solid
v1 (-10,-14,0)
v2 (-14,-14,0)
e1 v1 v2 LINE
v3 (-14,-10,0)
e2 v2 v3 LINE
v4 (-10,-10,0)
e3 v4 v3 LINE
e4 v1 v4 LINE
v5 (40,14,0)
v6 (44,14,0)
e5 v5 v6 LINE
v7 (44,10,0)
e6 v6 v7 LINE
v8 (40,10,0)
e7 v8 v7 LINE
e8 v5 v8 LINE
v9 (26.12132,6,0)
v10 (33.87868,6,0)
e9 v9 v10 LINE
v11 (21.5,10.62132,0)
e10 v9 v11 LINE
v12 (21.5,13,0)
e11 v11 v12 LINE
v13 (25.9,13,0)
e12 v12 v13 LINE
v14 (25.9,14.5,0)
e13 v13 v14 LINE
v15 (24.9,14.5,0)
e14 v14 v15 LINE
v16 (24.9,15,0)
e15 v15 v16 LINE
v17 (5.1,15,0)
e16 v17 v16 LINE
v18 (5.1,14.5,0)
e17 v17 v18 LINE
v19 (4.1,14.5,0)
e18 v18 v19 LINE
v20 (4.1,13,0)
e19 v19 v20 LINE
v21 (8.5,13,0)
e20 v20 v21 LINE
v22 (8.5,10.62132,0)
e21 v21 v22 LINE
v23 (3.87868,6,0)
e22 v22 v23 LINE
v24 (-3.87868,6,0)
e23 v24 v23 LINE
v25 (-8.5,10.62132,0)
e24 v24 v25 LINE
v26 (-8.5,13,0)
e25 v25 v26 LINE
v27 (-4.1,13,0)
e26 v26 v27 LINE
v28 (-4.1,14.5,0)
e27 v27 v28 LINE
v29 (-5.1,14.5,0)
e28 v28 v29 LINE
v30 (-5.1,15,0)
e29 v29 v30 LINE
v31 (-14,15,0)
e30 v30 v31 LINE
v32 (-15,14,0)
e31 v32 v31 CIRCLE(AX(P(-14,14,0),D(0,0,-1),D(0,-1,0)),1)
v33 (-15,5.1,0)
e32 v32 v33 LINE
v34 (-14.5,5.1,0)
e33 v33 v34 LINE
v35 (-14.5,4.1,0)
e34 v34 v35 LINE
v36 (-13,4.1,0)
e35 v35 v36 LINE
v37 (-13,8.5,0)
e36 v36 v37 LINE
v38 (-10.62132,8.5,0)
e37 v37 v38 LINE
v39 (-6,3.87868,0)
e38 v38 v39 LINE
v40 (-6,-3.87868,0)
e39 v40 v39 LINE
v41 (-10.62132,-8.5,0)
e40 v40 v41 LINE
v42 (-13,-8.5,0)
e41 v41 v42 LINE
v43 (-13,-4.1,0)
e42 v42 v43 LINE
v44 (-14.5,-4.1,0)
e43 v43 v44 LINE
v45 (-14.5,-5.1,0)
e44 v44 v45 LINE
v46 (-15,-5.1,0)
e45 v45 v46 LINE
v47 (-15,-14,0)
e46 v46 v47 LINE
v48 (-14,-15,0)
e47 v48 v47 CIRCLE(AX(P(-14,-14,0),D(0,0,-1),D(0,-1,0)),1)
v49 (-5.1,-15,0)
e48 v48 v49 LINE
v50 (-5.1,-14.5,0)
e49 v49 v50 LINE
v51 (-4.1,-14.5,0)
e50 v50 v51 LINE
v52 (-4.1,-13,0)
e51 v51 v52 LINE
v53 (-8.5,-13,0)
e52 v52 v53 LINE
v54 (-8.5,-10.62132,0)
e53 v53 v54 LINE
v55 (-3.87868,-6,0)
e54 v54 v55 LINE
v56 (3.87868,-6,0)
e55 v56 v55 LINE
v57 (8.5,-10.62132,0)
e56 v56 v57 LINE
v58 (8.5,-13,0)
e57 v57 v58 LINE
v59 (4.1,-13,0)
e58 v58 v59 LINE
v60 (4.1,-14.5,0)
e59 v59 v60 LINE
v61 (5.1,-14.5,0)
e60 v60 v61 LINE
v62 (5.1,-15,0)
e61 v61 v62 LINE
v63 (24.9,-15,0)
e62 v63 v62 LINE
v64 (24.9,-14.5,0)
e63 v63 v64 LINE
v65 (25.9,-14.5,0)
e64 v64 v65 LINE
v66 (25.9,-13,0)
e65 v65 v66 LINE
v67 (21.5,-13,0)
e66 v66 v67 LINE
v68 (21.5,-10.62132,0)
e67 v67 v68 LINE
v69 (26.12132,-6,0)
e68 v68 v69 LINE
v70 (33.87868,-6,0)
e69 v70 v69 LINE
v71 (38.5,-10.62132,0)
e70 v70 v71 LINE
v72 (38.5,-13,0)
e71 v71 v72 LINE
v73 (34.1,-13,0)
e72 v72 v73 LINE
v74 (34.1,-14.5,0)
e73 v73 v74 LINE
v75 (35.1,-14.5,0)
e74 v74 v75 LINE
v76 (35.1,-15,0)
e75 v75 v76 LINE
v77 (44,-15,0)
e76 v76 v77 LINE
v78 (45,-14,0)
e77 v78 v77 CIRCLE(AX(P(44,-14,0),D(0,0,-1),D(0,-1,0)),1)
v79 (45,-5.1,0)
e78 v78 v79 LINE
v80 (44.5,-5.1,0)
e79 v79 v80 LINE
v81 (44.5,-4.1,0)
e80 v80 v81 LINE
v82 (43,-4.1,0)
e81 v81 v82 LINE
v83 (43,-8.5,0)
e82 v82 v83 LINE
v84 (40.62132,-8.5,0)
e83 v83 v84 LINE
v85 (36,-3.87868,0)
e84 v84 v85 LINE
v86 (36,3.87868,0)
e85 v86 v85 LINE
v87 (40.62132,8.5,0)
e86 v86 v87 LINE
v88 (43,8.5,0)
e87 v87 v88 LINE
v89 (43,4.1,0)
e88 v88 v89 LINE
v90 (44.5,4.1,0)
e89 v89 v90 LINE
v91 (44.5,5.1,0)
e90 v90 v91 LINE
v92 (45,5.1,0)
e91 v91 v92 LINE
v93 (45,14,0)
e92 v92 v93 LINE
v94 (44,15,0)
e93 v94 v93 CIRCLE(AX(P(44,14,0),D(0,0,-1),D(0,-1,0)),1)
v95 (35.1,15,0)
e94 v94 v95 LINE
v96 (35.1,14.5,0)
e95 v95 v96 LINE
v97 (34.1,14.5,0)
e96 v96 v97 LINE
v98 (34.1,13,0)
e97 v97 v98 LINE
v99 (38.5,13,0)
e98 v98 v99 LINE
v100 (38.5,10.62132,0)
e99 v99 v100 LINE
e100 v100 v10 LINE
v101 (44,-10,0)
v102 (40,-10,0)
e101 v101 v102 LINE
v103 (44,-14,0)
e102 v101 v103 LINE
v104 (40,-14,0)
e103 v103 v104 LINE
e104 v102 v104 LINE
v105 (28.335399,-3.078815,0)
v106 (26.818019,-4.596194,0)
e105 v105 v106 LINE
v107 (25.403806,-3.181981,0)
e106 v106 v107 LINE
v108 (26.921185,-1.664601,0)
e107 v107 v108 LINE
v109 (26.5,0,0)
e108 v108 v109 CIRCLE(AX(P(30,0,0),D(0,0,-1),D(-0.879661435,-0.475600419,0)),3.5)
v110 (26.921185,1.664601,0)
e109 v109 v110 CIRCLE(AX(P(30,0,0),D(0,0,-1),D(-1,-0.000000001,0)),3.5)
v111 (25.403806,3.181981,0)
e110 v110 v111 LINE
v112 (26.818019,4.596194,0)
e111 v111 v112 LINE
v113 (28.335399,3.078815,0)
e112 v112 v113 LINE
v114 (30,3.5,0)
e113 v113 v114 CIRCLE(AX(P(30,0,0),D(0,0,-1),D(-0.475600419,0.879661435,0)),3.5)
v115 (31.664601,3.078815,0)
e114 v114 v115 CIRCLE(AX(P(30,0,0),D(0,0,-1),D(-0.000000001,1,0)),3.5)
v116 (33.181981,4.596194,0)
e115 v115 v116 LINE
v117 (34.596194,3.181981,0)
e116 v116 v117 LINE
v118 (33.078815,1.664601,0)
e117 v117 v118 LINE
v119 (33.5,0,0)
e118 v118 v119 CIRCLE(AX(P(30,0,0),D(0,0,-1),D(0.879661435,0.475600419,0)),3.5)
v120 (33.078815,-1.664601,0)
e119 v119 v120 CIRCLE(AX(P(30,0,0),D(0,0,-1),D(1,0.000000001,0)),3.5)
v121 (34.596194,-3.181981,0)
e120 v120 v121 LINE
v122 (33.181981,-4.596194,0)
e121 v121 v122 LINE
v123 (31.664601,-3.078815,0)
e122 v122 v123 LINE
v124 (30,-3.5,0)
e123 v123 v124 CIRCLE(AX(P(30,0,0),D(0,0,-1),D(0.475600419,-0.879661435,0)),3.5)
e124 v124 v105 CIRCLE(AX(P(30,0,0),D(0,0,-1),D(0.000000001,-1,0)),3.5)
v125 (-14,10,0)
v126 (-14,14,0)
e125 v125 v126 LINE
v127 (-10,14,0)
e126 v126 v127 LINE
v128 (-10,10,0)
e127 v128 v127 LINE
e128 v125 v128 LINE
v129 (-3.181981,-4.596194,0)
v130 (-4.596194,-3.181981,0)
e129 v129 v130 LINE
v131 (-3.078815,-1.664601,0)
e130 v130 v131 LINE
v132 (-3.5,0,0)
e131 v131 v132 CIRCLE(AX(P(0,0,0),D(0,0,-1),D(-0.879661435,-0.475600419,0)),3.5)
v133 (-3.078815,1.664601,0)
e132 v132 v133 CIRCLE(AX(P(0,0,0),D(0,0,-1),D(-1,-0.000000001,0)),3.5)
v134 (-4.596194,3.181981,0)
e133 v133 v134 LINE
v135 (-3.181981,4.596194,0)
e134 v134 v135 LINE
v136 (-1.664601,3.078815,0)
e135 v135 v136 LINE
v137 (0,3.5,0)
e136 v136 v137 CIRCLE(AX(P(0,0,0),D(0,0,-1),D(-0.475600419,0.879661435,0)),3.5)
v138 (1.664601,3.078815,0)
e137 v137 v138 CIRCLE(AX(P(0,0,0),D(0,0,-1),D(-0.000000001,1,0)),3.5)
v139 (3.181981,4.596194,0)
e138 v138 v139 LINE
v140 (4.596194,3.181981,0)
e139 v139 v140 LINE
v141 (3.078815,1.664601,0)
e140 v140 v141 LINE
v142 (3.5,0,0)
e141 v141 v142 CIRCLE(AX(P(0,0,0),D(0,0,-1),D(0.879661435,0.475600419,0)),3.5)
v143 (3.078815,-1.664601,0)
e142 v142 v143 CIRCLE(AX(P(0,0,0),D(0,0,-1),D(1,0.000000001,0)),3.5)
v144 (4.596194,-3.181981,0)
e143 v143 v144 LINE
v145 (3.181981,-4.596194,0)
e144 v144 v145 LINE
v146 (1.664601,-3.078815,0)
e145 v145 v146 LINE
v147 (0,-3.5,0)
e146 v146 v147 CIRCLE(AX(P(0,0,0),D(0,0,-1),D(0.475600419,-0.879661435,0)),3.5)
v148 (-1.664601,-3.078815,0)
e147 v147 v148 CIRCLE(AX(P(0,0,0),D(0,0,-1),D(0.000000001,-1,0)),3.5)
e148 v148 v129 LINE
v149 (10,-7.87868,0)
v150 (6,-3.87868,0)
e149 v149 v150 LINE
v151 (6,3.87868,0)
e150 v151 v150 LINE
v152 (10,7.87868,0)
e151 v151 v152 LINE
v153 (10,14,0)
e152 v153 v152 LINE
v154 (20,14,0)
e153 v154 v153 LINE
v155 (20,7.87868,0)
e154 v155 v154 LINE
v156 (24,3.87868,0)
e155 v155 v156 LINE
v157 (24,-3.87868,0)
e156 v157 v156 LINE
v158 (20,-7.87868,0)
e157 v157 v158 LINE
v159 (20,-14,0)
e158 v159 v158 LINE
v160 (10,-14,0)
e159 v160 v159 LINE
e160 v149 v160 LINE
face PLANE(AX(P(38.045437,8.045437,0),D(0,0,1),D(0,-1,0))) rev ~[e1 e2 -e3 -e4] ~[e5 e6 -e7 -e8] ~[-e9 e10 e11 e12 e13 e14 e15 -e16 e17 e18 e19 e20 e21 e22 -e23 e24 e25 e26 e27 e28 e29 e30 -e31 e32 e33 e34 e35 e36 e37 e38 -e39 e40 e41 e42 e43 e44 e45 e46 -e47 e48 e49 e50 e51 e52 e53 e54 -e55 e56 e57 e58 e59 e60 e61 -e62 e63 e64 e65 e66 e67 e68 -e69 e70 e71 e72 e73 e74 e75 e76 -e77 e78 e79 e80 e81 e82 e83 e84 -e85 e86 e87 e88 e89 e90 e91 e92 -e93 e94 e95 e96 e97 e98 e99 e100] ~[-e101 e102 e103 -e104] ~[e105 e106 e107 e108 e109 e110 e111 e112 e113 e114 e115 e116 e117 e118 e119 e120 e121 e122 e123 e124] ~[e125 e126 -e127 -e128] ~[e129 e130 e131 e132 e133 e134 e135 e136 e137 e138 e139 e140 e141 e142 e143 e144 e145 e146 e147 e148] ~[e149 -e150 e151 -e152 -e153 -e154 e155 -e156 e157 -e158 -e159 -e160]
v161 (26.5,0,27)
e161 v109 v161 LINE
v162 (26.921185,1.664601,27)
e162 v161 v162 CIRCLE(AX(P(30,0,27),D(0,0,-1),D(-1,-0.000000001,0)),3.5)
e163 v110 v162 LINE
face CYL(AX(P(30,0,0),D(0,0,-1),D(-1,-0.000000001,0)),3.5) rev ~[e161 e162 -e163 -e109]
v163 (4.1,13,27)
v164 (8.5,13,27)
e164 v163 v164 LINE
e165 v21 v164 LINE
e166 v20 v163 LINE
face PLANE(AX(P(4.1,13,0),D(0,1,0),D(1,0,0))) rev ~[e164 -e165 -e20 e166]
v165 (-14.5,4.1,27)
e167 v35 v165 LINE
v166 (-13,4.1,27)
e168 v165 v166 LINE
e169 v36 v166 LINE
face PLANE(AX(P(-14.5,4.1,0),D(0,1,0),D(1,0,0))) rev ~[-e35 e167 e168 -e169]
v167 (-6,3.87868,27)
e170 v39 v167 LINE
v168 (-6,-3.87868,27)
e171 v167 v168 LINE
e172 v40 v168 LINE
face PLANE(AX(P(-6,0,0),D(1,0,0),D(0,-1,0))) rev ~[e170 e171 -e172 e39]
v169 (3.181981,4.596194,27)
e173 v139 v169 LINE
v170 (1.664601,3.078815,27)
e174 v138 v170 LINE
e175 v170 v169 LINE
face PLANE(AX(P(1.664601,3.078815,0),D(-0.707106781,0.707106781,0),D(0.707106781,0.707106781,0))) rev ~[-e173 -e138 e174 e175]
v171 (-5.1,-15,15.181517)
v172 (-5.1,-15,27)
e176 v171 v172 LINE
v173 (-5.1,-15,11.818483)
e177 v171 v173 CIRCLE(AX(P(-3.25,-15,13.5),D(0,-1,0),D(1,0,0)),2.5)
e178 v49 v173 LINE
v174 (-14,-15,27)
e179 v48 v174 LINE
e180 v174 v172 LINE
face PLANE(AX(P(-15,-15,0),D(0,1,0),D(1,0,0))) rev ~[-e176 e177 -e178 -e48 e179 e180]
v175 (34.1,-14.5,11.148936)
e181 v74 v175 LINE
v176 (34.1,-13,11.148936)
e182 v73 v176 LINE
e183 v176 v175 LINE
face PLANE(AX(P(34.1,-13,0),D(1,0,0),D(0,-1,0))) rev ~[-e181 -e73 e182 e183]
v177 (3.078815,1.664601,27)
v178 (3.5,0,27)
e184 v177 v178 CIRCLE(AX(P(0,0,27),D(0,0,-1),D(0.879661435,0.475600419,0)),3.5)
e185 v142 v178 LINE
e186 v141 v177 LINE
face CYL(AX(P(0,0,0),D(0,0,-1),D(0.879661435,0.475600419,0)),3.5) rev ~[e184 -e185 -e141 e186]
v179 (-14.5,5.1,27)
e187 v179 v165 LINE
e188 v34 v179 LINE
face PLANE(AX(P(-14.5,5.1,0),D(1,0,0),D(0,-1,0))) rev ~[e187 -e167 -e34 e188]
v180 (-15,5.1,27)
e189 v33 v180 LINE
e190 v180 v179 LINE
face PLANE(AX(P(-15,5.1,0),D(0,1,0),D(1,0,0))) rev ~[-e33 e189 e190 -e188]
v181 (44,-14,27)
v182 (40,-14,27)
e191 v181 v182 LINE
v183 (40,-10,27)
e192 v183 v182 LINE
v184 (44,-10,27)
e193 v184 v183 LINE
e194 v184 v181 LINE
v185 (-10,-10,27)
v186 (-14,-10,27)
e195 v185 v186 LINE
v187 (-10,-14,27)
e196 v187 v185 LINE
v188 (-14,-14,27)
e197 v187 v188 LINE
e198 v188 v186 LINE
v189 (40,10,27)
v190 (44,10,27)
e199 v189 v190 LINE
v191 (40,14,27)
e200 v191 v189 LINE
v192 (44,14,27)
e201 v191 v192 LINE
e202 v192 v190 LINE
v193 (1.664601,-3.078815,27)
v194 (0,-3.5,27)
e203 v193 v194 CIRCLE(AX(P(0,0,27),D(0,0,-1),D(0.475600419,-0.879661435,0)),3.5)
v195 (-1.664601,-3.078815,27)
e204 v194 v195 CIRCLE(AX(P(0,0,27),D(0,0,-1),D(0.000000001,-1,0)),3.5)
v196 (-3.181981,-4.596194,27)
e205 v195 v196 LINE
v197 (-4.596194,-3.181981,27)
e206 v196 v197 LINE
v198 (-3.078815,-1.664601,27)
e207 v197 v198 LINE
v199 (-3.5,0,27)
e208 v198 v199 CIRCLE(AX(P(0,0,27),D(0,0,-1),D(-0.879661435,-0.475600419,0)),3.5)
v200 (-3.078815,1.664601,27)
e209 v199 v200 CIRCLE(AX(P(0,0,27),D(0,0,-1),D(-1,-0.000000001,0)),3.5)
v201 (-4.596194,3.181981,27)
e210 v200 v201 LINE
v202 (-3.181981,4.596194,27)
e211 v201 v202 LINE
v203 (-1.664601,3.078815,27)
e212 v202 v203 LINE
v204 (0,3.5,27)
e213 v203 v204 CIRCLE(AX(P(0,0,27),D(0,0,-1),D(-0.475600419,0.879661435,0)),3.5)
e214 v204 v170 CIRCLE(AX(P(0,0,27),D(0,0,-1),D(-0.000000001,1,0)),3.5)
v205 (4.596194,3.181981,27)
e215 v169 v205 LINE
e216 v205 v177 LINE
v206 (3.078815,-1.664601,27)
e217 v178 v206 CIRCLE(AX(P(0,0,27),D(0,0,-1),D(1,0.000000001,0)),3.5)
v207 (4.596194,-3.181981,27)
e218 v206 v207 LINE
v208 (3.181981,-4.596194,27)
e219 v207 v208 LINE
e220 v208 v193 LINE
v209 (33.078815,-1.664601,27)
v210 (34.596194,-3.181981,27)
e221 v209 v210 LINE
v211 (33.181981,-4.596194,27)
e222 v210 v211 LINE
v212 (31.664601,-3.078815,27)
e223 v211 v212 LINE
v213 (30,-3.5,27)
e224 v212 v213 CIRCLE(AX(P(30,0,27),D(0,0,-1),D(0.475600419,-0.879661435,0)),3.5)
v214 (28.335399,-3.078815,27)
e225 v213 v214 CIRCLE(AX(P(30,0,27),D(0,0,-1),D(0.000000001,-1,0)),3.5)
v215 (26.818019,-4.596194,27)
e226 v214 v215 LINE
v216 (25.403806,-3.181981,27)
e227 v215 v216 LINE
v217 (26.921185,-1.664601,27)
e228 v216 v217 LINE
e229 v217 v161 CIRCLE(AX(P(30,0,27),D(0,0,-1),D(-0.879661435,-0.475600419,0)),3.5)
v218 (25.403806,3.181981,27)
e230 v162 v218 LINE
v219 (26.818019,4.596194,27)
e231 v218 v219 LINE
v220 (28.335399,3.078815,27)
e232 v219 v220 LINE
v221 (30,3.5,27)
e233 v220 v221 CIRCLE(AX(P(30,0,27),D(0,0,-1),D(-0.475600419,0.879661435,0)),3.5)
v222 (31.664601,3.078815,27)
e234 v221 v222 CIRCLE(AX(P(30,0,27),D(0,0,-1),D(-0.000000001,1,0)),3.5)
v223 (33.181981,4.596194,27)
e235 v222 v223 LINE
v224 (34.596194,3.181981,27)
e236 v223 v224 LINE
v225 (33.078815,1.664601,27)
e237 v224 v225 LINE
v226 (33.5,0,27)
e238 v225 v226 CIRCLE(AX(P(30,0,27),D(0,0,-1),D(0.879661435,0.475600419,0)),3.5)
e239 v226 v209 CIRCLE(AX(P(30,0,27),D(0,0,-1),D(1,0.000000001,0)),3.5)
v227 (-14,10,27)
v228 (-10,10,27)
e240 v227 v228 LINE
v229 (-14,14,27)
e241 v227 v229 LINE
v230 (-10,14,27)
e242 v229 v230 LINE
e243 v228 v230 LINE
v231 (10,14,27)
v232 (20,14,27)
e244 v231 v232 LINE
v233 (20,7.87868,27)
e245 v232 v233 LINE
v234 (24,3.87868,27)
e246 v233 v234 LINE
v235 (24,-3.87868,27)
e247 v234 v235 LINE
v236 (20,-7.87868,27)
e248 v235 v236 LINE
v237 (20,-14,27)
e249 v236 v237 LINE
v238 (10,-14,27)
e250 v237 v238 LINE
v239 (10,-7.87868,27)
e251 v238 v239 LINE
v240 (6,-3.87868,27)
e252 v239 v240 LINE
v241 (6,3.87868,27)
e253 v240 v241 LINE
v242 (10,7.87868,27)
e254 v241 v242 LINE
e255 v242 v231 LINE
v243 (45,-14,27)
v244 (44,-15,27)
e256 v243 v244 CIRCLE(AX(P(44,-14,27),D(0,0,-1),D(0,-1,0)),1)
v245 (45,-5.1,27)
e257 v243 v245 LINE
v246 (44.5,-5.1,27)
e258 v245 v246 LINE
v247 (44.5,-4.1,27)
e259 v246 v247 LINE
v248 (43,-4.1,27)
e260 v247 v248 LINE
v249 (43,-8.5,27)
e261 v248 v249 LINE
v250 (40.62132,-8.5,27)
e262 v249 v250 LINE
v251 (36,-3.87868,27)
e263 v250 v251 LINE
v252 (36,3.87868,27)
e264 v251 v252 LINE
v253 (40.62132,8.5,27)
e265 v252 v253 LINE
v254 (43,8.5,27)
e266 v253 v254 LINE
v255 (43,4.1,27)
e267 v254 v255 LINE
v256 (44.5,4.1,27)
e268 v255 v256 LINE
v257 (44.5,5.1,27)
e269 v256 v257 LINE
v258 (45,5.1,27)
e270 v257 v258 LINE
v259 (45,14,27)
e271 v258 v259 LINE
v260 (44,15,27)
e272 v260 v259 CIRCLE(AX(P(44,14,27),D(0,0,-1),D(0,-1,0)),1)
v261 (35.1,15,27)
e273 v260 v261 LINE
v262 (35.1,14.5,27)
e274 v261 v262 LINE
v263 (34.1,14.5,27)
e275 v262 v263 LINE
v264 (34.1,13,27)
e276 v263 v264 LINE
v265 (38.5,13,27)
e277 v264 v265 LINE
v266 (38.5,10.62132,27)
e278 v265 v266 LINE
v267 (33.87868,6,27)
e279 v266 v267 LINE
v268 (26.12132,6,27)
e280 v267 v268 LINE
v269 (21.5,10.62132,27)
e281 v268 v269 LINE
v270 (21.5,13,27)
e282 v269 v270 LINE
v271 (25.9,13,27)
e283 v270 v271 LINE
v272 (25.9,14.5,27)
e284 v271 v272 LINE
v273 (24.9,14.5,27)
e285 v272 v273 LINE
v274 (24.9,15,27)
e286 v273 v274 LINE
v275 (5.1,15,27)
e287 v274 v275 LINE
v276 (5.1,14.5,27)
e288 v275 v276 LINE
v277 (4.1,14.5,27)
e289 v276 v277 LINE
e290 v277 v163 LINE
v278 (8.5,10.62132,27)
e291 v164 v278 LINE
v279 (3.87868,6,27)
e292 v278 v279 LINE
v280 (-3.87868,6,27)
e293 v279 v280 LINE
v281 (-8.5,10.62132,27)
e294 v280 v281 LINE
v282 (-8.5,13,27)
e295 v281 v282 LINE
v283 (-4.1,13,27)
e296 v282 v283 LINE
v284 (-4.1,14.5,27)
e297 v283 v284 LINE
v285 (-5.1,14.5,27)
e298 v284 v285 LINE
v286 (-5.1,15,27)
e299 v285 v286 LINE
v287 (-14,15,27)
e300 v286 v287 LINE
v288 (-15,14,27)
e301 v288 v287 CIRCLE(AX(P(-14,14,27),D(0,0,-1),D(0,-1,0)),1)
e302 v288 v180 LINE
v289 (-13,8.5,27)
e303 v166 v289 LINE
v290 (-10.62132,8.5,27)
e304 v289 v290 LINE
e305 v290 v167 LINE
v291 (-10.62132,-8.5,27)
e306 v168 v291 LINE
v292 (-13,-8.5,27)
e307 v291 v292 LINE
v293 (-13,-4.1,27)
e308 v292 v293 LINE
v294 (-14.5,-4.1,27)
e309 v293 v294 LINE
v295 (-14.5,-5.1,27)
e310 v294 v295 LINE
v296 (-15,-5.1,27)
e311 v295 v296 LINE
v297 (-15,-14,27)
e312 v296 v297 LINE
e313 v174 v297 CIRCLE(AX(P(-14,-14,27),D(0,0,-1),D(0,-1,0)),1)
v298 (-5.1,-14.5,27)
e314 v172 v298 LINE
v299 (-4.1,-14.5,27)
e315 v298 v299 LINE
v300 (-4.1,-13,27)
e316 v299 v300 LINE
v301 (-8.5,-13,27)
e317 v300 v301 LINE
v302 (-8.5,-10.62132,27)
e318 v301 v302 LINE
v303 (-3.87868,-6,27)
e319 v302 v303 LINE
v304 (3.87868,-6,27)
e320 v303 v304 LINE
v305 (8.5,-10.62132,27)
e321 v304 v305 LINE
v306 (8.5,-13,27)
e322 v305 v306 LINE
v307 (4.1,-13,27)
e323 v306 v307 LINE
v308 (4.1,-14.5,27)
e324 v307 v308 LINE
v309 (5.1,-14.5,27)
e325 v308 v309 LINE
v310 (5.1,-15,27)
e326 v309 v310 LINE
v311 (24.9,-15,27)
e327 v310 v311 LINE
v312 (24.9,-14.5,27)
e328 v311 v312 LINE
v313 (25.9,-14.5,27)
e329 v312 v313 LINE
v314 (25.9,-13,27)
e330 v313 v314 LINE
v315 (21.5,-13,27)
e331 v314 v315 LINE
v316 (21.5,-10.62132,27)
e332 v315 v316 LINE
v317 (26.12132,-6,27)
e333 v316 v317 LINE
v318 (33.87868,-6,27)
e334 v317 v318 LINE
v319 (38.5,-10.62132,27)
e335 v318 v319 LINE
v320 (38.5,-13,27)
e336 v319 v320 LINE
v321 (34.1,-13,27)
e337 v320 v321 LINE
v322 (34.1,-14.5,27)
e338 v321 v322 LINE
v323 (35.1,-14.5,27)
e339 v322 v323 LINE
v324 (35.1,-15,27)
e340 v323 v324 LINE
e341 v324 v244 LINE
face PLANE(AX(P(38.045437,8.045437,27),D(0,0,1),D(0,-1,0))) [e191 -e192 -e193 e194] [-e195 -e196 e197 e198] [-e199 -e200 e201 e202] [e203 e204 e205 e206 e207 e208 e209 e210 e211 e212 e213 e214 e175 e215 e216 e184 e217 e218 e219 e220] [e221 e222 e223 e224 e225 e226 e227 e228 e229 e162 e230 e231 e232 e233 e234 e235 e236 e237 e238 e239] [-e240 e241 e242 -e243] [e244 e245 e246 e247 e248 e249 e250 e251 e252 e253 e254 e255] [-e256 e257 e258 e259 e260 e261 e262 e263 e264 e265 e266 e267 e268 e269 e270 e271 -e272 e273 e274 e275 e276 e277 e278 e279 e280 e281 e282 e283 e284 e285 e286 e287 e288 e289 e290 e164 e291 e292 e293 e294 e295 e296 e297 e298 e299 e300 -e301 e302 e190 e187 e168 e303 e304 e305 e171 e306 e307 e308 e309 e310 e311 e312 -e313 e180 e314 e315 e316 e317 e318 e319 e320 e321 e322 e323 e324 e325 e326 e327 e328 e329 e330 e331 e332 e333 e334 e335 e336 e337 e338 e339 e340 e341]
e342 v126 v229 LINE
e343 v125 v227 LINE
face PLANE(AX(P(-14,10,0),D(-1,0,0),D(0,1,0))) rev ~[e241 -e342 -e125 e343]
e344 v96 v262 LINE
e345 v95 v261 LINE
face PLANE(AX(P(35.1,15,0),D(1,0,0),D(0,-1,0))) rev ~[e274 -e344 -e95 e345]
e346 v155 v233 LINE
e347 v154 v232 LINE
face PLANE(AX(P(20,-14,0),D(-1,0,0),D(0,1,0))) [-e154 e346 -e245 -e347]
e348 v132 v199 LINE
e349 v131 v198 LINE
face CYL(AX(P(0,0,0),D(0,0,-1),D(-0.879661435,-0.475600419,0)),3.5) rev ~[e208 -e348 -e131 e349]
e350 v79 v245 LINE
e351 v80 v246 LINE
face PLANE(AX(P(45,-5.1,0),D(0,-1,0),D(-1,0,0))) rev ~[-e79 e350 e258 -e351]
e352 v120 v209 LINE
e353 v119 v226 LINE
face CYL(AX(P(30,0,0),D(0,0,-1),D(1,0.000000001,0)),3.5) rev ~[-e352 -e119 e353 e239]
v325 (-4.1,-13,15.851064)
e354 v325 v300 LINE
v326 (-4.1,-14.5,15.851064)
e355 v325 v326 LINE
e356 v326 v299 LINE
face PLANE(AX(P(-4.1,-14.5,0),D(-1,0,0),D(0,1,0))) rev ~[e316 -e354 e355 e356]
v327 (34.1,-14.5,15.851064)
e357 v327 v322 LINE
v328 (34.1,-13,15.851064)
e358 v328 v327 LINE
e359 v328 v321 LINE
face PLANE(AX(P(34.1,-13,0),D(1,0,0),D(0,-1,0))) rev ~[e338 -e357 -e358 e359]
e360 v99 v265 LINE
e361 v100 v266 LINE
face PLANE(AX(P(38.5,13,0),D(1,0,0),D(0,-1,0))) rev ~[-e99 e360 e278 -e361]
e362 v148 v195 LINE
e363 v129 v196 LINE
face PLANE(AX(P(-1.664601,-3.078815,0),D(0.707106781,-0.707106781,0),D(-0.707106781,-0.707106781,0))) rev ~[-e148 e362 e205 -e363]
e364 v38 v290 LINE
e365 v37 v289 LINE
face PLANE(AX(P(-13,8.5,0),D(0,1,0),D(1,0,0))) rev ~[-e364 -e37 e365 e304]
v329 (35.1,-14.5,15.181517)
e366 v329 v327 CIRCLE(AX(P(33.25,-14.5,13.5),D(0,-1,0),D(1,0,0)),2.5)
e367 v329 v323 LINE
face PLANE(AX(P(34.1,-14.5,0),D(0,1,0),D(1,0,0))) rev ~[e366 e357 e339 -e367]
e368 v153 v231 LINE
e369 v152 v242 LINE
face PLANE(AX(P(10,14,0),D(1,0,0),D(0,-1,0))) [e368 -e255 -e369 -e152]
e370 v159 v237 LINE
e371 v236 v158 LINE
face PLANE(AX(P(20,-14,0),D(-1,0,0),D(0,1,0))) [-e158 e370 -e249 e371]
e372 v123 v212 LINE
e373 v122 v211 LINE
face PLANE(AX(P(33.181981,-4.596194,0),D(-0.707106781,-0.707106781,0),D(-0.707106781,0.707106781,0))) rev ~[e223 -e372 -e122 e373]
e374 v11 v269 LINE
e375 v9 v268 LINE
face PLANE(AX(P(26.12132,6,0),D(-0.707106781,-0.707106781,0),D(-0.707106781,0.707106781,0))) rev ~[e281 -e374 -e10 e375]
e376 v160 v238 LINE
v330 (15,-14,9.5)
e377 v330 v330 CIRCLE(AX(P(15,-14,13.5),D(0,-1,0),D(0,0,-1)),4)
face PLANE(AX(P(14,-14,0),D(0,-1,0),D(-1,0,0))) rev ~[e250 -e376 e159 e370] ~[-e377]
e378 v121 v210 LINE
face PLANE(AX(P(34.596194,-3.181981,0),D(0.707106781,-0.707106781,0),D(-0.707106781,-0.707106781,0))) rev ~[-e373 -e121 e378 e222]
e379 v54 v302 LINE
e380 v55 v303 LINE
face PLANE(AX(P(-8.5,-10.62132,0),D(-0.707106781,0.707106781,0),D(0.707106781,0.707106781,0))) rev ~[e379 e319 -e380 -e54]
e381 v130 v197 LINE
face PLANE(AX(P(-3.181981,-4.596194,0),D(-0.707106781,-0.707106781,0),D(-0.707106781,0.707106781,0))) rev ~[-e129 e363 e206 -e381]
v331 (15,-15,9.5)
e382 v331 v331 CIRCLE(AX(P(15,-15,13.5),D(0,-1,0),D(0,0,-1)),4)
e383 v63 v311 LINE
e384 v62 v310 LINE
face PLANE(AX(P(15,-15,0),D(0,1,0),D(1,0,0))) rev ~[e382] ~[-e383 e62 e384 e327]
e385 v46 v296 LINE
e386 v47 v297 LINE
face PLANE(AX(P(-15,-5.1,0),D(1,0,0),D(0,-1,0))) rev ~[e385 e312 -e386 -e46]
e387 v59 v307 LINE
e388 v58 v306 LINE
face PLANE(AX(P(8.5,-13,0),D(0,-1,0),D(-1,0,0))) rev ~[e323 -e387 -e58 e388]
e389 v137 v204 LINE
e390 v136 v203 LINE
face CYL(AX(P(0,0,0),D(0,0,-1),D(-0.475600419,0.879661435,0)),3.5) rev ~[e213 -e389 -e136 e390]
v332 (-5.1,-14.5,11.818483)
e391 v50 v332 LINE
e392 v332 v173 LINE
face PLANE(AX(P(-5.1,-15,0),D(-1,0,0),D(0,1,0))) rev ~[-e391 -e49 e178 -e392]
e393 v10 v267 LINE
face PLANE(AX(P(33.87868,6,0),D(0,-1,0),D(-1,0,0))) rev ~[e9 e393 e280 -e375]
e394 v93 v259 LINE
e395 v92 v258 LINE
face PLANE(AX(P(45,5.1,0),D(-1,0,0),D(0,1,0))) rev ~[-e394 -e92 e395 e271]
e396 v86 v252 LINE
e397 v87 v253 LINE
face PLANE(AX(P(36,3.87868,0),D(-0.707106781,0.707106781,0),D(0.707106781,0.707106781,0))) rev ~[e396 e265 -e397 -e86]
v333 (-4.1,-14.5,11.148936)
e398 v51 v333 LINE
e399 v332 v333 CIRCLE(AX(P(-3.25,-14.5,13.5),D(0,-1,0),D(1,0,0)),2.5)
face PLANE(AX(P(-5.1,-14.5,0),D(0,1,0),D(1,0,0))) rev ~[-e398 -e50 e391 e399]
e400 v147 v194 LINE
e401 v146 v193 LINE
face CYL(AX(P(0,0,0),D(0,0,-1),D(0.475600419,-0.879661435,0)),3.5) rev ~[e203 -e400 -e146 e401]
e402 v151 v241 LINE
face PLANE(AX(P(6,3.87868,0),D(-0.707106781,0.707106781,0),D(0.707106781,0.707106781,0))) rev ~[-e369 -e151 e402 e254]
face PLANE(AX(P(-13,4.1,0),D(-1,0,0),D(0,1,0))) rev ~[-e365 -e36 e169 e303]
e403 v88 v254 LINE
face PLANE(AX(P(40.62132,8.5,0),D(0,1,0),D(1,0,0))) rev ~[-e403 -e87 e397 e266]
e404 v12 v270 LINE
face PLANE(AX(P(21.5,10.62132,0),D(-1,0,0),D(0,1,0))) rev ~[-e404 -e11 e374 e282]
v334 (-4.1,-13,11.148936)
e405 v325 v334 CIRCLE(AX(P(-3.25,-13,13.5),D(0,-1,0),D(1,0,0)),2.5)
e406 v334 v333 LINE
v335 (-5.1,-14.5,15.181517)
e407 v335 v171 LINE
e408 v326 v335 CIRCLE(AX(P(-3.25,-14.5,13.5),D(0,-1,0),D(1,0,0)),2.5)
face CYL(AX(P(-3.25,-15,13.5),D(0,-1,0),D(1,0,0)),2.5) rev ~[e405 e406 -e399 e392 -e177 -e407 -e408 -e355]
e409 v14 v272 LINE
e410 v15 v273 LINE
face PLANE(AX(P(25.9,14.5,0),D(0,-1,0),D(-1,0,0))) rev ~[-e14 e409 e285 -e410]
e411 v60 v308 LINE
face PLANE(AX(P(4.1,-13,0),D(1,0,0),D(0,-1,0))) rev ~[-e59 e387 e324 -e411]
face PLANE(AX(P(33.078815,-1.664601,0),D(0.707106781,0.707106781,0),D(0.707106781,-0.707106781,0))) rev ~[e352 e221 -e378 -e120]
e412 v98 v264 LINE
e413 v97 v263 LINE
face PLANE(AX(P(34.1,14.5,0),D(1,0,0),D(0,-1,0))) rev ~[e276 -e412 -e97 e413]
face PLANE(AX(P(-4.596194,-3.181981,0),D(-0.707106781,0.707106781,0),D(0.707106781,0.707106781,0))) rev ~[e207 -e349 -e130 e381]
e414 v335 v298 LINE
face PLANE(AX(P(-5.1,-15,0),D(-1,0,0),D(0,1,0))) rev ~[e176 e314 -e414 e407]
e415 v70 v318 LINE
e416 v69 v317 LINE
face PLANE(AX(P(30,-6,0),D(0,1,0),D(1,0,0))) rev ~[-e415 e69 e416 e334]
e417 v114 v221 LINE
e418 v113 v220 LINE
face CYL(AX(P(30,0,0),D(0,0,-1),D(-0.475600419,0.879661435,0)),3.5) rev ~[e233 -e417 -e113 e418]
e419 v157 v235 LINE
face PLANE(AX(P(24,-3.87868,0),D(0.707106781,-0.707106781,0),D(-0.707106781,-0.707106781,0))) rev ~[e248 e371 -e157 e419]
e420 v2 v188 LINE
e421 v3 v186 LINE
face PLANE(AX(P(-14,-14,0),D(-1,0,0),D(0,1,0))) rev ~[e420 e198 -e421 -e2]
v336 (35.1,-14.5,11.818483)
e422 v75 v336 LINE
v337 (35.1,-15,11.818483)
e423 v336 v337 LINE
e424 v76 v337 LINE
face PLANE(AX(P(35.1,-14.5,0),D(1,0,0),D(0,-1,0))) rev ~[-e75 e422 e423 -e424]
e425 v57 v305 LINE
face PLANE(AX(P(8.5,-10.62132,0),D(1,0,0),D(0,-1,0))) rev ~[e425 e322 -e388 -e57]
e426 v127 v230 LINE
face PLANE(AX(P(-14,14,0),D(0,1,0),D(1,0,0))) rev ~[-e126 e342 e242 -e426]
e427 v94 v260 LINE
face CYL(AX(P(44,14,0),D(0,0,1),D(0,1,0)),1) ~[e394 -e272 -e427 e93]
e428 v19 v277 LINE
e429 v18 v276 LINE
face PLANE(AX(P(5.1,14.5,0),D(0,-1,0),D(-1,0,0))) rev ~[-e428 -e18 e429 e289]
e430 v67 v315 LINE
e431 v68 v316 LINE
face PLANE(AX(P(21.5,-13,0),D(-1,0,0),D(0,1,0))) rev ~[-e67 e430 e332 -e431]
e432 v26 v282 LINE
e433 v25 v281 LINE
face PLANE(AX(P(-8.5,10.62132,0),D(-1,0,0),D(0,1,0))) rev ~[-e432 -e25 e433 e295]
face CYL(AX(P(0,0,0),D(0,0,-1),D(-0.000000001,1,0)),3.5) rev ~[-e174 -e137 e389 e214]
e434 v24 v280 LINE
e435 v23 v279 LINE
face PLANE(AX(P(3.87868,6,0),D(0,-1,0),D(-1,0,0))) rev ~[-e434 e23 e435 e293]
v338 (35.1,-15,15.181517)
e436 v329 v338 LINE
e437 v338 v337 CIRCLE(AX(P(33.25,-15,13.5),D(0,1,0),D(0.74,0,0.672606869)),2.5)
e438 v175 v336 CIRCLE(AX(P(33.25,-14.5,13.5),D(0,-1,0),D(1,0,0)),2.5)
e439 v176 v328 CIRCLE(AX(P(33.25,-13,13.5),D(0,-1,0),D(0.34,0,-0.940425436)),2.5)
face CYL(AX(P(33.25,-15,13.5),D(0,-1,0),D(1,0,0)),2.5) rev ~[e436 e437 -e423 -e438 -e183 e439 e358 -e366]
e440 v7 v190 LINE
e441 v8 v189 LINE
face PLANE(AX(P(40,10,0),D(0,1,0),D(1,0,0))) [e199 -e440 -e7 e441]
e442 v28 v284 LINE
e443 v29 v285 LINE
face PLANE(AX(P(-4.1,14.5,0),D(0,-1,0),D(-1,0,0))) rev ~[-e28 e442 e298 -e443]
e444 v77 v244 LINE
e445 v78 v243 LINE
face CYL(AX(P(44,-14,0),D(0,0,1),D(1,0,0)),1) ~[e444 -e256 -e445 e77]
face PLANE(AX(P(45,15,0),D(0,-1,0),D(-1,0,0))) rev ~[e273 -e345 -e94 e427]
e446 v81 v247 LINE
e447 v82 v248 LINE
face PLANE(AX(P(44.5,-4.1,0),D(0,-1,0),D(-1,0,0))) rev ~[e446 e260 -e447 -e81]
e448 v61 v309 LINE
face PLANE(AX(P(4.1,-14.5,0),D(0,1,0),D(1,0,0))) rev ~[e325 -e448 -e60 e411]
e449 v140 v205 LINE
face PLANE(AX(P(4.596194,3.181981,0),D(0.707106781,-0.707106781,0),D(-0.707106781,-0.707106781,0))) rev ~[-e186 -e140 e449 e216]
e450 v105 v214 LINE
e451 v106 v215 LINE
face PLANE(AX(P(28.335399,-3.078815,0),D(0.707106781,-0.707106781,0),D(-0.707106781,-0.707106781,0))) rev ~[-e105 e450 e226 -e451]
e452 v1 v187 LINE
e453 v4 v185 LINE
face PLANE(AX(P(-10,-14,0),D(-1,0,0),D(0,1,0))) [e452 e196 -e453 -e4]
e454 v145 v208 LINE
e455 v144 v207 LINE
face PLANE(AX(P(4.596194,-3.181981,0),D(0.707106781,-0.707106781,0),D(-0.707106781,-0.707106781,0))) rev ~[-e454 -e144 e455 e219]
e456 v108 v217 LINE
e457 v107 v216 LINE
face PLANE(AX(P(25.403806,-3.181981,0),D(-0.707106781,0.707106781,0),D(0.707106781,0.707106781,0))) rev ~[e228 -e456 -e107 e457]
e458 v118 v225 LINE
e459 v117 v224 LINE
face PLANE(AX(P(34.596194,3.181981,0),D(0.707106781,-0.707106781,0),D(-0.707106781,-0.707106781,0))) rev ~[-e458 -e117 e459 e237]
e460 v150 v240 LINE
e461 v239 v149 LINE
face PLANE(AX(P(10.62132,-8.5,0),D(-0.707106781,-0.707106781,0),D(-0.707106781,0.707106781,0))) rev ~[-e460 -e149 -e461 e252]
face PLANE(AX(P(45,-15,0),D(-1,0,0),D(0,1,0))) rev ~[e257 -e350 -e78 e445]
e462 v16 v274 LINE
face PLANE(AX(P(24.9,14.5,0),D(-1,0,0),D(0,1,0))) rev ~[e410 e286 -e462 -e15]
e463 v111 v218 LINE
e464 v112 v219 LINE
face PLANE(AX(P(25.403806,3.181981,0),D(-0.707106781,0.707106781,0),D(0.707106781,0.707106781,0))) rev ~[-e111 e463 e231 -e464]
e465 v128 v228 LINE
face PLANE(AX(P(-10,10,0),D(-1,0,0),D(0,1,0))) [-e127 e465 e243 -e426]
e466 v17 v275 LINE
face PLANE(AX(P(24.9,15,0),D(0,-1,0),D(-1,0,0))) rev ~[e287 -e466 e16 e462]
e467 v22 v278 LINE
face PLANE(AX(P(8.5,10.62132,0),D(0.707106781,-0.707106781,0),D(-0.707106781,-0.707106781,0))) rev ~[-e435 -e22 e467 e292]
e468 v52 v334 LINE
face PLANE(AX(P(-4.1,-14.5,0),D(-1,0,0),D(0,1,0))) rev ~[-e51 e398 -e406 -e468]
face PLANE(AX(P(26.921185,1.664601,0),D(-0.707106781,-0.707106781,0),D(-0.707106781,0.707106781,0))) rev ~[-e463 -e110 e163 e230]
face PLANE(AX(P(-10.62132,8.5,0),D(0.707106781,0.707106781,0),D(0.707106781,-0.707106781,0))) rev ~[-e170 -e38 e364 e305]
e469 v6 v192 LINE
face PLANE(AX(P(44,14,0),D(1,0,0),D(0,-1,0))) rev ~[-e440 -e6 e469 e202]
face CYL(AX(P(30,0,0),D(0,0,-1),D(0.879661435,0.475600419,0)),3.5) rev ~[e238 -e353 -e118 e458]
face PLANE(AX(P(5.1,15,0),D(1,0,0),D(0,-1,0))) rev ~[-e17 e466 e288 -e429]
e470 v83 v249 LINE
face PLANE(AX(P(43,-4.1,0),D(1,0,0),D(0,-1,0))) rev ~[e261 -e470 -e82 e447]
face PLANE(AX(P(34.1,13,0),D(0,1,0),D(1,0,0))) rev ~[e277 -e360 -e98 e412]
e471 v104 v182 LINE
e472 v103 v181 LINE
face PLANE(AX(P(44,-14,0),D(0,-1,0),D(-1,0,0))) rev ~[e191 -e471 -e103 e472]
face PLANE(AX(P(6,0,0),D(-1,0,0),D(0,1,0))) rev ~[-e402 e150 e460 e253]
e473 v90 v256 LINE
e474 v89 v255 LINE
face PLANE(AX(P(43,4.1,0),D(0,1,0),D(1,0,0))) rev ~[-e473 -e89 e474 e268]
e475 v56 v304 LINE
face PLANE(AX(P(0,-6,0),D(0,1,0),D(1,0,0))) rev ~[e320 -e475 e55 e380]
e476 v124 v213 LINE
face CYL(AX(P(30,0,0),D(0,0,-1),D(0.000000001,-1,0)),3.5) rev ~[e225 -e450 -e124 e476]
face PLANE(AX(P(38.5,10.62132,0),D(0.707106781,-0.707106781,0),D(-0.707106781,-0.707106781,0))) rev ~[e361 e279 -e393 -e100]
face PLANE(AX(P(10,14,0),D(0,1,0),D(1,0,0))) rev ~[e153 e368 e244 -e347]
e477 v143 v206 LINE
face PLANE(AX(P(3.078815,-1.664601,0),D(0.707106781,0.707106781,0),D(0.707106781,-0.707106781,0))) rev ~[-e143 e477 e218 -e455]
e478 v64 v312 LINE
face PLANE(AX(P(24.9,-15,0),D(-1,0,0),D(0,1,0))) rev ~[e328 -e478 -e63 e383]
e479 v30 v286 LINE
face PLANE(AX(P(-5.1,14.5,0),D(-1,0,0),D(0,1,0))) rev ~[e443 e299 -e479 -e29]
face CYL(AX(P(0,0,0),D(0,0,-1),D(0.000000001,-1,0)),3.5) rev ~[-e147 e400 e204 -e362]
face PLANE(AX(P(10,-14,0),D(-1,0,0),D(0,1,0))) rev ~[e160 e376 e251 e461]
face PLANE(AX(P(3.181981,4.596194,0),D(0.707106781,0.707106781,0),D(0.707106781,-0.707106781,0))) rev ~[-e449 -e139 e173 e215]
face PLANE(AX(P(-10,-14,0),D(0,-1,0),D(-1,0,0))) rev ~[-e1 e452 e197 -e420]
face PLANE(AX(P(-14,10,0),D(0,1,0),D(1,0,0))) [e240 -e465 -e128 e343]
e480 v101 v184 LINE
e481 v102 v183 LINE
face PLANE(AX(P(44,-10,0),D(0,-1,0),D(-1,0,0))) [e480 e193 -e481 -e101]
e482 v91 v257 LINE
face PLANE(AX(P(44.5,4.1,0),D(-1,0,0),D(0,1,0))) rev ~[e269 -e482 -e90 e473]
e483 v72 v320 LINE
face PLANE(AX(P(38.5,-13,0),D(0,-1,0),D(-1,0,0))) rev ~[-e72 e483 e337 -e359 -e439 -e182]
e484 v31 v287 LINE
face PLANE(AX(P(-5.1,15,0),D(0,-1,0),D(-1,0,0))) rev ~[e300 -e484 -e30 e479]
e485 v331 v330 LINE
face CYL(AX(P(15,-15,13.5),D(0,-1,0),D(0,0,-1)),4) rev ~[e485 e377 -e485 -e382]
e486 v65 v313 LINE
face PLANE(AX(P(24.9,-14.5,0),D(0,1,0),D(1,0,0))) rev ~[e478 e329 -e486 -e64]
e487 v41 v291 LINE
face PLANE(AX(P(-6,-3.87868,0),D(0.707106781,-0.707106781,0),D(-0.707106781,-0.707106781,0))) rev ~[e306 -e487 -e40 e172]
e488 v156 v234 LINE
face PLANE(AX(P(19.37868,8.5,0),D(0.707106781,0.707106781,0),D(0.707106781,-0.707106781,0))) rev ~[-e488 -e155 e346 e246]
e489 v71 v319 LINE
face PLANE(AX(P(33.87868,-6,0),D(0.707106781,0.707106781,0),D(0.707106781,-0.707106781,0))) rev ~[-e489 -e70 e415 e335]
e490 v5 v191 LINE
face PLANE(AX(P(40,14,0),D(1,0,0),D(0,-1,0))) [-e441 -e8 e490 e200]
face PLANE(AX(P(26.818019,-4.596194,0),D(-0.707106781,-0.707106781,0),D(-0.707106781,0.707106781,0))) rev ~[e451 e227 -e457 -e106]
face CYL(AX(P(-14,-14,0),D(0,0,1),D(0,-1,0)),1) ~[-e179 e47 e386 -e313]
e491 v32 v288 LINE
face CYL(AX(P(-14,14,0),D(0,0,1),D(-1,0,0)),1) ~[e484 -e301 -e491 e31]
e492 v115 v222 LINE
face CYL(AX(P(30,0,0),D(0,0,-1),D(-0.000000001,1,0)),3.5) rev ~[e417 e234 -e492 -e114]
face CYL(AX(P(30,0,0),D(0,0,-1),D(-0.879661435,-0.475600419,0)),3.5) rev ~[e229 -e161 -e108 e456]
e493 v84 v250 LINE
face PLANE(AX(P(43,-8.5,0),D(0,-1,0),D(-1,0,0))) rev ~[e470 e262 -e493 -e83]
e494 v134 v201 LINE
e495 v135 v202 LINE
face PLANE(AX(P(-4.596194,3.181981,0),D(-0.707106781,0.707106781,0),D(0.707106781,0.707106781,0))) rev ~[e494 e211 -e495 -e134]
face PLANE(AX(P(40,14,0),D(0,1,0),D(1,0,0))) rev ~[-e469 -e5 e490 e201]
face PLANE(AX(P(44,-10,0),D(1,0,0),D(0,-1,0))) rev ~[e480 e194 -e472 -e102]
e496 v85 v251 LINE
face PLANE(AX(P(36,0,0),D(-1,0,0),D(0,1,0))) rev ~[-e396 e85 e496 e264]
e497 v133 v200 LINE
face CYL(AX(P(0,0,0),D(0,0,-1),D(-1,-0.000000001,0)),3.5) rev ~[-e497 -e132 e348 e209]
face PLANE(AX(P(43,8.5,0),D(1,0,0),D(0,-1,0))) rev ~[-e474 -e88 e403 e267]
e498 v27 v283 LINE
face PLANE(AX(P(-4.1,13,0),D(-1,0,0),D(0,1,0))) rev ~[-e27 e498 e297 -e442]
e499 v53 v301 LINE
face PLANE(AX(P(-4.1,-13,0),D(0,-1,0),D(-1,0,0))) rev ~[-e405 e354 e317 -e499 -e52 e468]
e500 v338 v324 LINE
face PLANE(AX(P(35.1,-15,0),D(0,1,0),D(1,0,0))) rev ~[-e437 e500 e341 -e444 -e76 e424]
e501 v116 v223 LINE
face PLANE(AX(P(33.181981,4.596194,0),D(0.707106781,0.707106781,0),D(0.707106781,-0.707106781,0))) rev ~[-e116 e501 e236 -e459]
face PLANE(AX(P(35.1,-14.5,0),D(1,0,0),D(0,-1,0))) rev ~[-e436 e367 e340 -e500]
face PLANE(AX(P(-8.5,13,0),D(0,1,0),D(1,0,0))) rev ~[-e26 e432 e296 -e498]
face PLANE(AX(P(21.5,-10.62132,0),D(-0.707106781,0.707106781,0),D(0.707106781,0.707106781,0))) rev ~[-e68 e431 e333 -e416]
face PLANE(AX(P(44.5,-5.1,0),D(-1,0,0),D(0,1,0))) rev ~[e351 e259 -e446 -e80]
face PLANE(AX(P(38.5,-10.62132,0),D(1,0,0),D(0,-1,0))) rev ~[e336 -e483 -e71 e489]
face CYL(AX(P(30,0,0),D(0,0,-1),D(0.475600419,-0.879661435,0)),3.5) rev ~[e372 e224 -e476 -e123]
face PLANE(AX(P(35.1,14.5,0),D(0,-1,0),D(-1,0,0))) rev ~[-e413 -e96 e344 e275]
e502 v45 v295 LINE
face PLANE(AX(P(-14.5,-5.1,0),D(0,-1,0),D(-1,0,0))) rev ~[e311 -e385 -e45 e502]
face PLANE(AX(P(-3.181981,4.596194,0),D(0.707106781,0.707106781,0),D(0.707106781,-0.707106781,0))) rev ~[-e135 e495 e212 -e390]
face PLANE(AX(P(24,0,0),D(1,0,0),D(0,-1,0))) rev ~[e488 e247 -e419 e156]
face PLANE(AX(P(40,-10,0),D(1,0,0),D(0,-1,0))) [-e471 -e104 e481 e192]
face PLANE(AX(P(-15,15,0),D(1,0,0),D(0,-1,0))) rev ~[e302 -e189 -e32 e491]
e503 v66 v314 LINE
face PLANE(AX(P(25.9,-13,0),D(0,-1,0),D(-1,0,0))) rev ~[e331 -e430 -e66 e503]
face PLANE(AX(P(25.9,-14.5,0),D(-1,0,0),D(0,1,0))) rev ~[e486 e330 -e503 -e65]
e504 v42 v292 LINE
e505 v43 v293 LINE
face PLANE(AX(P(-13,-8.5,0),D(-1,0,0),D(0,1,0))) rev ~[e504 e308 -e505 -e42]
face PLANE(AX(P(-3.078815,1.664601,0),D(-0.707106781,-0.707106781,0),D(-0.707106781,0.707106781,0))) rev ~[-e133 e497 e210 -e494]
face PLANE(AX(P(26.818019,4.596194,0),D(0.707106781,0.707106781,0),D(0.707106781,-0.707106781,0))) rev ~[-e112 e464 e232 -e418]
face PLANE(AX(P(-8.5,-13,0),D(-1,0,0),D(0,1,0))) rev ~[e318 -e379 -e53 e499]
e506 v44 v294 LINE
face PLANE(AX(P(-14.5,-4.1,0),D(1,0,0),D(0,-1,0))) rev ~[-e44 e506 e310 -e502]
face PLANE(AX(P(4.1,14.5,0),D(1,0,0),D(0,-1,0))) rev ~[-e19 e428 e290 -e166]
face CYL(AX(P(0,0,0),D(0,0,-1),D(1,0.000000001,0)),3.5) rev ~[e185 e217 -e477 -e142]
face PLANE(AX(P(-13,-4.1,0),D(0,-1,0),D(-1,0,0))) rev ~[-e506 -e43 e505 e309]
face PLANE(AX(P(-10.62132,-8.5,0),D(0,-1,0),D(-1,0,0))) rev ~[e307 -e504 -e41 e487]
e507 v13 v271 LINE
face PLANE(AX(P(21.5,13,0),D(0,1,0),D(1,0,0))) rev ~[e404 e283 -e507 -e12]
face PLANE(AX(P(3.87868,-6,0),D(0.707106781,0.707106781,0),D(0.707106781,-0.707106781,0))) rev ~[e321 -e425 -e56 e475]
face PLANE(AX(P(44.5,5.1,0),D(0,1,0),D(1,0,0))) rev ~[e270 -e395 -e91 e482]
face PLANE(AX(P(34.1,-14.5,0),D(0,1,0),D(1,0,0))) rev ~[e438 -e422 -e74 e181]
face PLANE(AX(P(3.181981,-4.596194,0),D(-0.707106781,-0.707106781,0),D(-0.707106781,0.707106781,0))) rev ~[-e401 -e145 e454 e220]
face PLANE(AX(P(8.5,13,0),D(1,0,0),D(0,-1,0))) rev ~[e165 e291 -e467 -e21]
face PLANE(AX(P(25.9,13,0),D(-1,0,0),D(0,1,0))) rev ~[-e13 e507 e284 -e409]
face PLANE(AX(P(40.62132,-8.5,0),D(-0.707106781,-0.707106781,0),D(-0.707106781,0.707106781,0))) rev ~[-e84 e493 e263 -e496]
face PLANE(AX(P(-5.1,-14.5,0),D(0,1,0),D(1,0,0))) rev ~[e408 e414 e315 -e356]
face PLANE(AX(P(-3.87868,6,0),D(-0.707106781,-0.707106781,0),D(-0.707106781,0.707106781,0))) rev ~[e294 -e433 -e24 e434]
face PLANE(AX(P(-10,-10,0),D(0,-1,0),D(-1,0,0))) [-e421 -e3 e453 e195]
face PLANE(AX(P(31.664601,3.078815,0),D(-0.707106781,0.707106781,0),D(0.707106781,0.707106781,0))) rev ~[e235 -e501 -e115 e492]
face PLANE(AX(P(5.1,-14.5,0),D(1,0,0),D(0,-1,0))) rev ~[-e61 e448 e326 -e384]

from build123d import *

# Parameters (mm, degrees)
ESBO_O1_W                      = 4
ESBO_O1_H                      = 4
RESSALTO_EXTRUS_O1_DEPTH       = 27
PADR_OCIRCULAR1_COUNT          = 4
PADR_O_LINEAR1_COUNT           = 2
PADR_O_LINEAR1_PITCH           = 30
PADR_O_LINEAR1_COPY_1_SKETCH_W = 4
PADR_O_LINEAR1_COPY_1_SKETCH_H = 4
PADR_O_LINEAR1_COPY_1_DEPTH    = 27
PADR_O_LINEAR1_COPY_2_SKETCH_W = 4
PADR_O_LINEAR1_COPY_2_SKETCH_H = 4
PADR_O_LINEAR1_COPY_2_DEPTH    = 27
PADR_O_LINEAR1_COPY_3_SKETCH_W = 4
PADR_O_LINEAR1_COPY_3_SKETCH_H = 4
PADR_O_LINEAR1_COPY_3_DEPTH    = 27
ESBO_O4_W                      = 10
ESBO_O4_H                      = 28
CORTE_EXTRUS_O1_DEPTH          = 55.580216196
FILETE1_R                      = 1
SKETCH1_R                      = 2.5
SKETCH1_R_2                    = 4
CUT_EXTRUDE1_DEPTH             = 6


with BuildPart() as part:
    # Esboço1 → Ressalto-extrusão1 (new body)
    with BuildSketch(Plane.XY):
        with BuildLine():
            ThreePointArc((-1.664601464, 3.078815026), (-0.858529967, 3.393070335), (0, 3.5))
            Line((0, 3.5), (0, 6))
            Line((0, 6), (-3.878679656, 6))
            Line((-3.878679656, 6), (-8.5, 10.621320344))
            Line((-8.5, 10.621320344), (-8.5, 13))
            Line((-8.5, 13), (-4.1, 13))
            Line((-4.1, 13), (-4.1, 14.5))
            Line((-4.1, 14.5), (-5.1, 14.5))
            Line((-5.1, 14.5), (-5.1, 15))
            Line((-5.1, 15), (-15, 15))
            Line((-15, 15), (-15, 5.1))
            Line((-15, 5.1), (-14.5, 5.1))
            Line((-14.5, 5.1), (-14.5, 4.1))
            Line((-14.5, 4.1), (-13, 4.1))
            Line((-13, 4.1), (-13, 8.5))
            Line((-13, 8.5), (-10.621320344, 8.5))
            Line((-10.621320344, 8.5), (-6, 3.878679656))
            Line((-6, 3.878679656), (-6, 0))
            Line((-6, 0), (-3.5, 0))
            ThreePointArc((-3.5, 0), (-3.393070335, 0.858529967), (-3.078815026, 1.664601464))
            Line((-3.078815026, 1.664601464), (-4.596194078, 3.181980515))
            Line((-4.596194078, 3.181980515), (-3.181980515, 4.596194078))
            Line((-3.181980515, 4.596194078), (-1.664601464, 3.078815026))
        make_face()
        with Locations((-12, 12)):
            Rectangle(ESBO_O1_W, ESBO_O1_H, mode=Mode.SUBTRACT)
    ressalto_extrus_o1 = extrude(amount=RESSALTO_EXTRUS_O1_DEPTH)

    # PadrãoCircular1: Ressalto-extrusão1 ×4 about axis
    padr_ocircular1_axis = Axis((0, 0, 0), (0, 0, 1))
    for i in range(1, PADR_OCIRCULAR1_COUNT):
        add(ressalto_extrus_o1.rotate(padr_ocircular1_axis, i * 360 / PADR_OCIRCULAR1_COUNT))

    # Padrão linear1: Ressalto-extrusão1 ×2
    with Locations(*[(i * PADR_O_LINEAR1_PITCH, 0, 0) for i in range(1, PADR_O_LINEAR1_COUNT)]):
        add(ressalto_extrus_o1)

    # Padrão linear1 copy 1 sketch → Padrão linear1 copy 1 (add)
    with BuildSketch(Plane(origin=(30, 0, 0), x_dir=(0, 1, 0), z_dir=(0, 0, 1))):
        with BuildLine():
            ThreePointArc((-1.664601464, 3.078815026), (-0.858529967, 3.393070335), (0, 3.5))
            Line((0, 3.5), (0, 6))
            Line((0, 6), (-3.878679656, 6))
            Line((-3.878679656, 6), (-8.5, 10.621320344))
            Line((-8.5, 10.621320344), (-8.5, 13))
            Line((-8.5, 13), (-4.1, 13))
            Line((-4.1, 13), (-4.1, 14.5))
            Line((-4.1, 14.5), (-5.1, 14.5))
            Line((-5.1, 14.5), (-5.1, 15))
            Line((-5.1, 15), (-15, 15))
            Line((-15, 15), (-15, 5.1))
            Line((-15, 5.1), (-14.5, 5.1))
            Line((-14.5, 5.1), (-14.5, 4.1))
            Line((-14.5, 4.1), (-13, 4.1))
            Line((-13, 4.1), (-13, 8.5))
            Line((-13, 8.5), (-10.621320344, 8.5))
            Line((-10.621320344, 8.5), (-6, 3.878679656))
            Line((-6, 3.878679656), (-6, 0))
            Line((-6, 0), (-3.5, 0))
            ThreePointArc((-3.5, 0), (-3.393070335, 0.858529967), (-3.078815026, 1.664601464))
            Line((-3.078815026, 1.664601464), (-4.596194078, 3.181980515))
            Line((-4.596194078, 3.181980515), (-3.181980515, 4.596194078))
            Line((-3.181980515, 4.596194078), (-1.664601464, 3.078815026))
        make_face()
        with Locations((-12, 12)):
            Rectangle(PADR_O_LINEAR1_COPY_1_SKETCH_W, PADR_O_LINEAR1_COPY_1_SKETCH_H, mode=Mode.SUBTRACT)
    extrude(amount=PADR_O_LINEAR1_COPY_1_DEPTH)

    # Padrão linear1 copy 2 sketch → Padrão linear1 copy 2 (add)
    with BuildSketch(Plane(origin=(30, 0, 0), x_dir=(-1, 0, 0), z_dir=(0, 0, 1))):
        with BuildLine():
            ThreePointArc((-1.664601464, 3.078815026), (-0.858529967, 3.393070335), (0, 3.5))
            Line((0, 3.5), (0, 6))
            Line((0, 6), (-3.878679656, 6))
            Line((-3.878679656, 6), (-8.5, 10.621320344))
            Line((-8.5, 10.621320344), (-8.5, 13))
            Line((-8.5, 13), (-4.1, 13))
            Line((-4.1, 13), (-4.1, 14.5))
            Line((-4.1, 14.5), (-5.1, 14.5))
            Line((-5.1, 14.5), (-5.1, 15))
            Line((-5.1, 15), (-15, 15))
            Line((-15, 15), (-15, 5.1))
            Line((-15, 5.1), (-14.5, 5.1))
            Line((-14.5, 5.1), (-14.5, 4.1))
            Line((-14.5, 4.1), (-13, 4.1))
            Line((-13, 4.1), (-13, 8.5))
            Line((-13, 8.5), (-10.621320344, 8.5))
            Line((-10.621320344, 8.5), (-6, 3.878679656))
            Line((-6, 3.878679656), (-6, 0))
            Line((-6, 0), (-3.5, 0))
            ThreePointArc((-3.5, 0), (-3.393070335, 0.858529967), (-3.078815026, 1.664601464))
            Line((-3.078815026, 1.664601464), (-4.596194078, 3.181980515))
            Line((-4.596194078, 3.181980515), (-3.181980515, 4.596194078))
            Line((-3.181980515, 4.596194078), (-1.664601464, 3.078815026))
        make_face()
        with Locations((-12, 12)):
            Rectangle(PADR_O_LINEAR1_COPY_2_SKETCH_W, PADR_O_LINEAR1_COPY_2_SKETCH_H, mode=Mode.SUBTRACT)
    extrude(amount=PADR_O_LINEAR1_COPY_2_DEPTH)

    # Padrão linear1 copy 3 sketch → Padrão linear1 copy 3 (add)
    with BuildSketch(Plane(origin=(30, 0, 0), x_dir=(0, -1, 0), z_dir=(0, 0, 1))):
        with BuildLine():
            ThreePointArc((-1.664601464, 3.078815026), (-0.858529967, 3.393070335), (0, 3.5))
            Line((0, 3.5), (0, 6))
            Line((0, 6), (-3.878679656, 6))
            Line((-3.878679656, 6), (-8.5, 10.621320344))
            Line((-8.5, 10.621320344), (-8.5, 13))
            Line((-8.5, 13), (-4.1, 13))
            Line((-4.1, 13), (-4.1, 14.5))
            Line((-4.1, 14.5), (-5.1, 14.5))
            Line((-5.1, 14.5), (-5.1, 15))
            Line((-5.1, 15), (-15, 15))
            Line((-15, 15), (-15, 5.1))
            Line((-15, 5.1), (-14.5, 5.1))
            Line((-14.5, 5.1), (-14.5, 4.1))
            Line((-14.5, 4.1), (-13, 4.1))
            Line((-13, 4.1), (-13, 8.5))
            Line((-13, 8.5), (-10.621320344, 8.5))
            Line((-10.621320344, 8.5), (-6, 3.878679656))
            Line((-6, 3.878679656), (-6, 0))
            Line((-6, 0), (-3.5, 0))
            ThreePointArc((-3.5, 0), (-3.393070335, 0.858529967), (-3.078815026, 1.664601464))
            Line((-3.078815026, 1.664601464), (-4.596194078, 3.181980515))
            Line((-4.596194078, 3.181980515), (-3.181980515, 4.596194078))
            Line((-3.181980515, 4.596194078), (-1.664601464, 3.078815026))
        make_face()
        with Locations((-12, 12)):
            Rectangle(PADR_O_LINEAR1_COPY_3_SKETCH_W, PADR_O_LINEAR1_COPY_3_SKETCH_H, mode=Mode.SUBTRACT)
    extrude(amount=PADR_O_LINEAR1_COPY_3_DEPTH)

    # Esboço4 → Corte-extrusão1 (cut, through all)
    with BuildSketch(Plane(origin=(0, 0, 0), x_dir=(-1, 0, 0), z_dir=(0, 0, -1))):
        with Locations((-15, 0)):
            Rectangle(ESBO_O4_W, ESBO_O4_H)
    extrude(amount=-CORTE_EXTRUS_O1_DEPTH, mode=Mode.SUBTRACT)

    # Filete1
    filete1_edges = [part.edges().sort_by_distance(p)[0] for p in [
        (45, -15, 13.5),
        (45, 15, 13.5),
        (-15, 15, 13.5),
        (-15, -15, 13.5),
    ]]
    fillet(filete1_edges, radius=FILETE1_R)

    # Sketch1 → Cut-Extrude1 (cut)
    with BuildSketch(Plane.XZ.offset(15)):
        with Locations((33.25, 13.5)):
            Circle(SKETCH1_R)
        with Locations((-3.25, 13.5)):
            Circle(SKETCH1_R)
        with Locations(Location((15, 13.5, 0), (0, 0, 270))):
            Circle(SKETCH1_R_2)
    extrude(amount=-CUT_EXTRUDE1_DEPTH, mode=Mode.SUBTRACT)


solid = part.part
